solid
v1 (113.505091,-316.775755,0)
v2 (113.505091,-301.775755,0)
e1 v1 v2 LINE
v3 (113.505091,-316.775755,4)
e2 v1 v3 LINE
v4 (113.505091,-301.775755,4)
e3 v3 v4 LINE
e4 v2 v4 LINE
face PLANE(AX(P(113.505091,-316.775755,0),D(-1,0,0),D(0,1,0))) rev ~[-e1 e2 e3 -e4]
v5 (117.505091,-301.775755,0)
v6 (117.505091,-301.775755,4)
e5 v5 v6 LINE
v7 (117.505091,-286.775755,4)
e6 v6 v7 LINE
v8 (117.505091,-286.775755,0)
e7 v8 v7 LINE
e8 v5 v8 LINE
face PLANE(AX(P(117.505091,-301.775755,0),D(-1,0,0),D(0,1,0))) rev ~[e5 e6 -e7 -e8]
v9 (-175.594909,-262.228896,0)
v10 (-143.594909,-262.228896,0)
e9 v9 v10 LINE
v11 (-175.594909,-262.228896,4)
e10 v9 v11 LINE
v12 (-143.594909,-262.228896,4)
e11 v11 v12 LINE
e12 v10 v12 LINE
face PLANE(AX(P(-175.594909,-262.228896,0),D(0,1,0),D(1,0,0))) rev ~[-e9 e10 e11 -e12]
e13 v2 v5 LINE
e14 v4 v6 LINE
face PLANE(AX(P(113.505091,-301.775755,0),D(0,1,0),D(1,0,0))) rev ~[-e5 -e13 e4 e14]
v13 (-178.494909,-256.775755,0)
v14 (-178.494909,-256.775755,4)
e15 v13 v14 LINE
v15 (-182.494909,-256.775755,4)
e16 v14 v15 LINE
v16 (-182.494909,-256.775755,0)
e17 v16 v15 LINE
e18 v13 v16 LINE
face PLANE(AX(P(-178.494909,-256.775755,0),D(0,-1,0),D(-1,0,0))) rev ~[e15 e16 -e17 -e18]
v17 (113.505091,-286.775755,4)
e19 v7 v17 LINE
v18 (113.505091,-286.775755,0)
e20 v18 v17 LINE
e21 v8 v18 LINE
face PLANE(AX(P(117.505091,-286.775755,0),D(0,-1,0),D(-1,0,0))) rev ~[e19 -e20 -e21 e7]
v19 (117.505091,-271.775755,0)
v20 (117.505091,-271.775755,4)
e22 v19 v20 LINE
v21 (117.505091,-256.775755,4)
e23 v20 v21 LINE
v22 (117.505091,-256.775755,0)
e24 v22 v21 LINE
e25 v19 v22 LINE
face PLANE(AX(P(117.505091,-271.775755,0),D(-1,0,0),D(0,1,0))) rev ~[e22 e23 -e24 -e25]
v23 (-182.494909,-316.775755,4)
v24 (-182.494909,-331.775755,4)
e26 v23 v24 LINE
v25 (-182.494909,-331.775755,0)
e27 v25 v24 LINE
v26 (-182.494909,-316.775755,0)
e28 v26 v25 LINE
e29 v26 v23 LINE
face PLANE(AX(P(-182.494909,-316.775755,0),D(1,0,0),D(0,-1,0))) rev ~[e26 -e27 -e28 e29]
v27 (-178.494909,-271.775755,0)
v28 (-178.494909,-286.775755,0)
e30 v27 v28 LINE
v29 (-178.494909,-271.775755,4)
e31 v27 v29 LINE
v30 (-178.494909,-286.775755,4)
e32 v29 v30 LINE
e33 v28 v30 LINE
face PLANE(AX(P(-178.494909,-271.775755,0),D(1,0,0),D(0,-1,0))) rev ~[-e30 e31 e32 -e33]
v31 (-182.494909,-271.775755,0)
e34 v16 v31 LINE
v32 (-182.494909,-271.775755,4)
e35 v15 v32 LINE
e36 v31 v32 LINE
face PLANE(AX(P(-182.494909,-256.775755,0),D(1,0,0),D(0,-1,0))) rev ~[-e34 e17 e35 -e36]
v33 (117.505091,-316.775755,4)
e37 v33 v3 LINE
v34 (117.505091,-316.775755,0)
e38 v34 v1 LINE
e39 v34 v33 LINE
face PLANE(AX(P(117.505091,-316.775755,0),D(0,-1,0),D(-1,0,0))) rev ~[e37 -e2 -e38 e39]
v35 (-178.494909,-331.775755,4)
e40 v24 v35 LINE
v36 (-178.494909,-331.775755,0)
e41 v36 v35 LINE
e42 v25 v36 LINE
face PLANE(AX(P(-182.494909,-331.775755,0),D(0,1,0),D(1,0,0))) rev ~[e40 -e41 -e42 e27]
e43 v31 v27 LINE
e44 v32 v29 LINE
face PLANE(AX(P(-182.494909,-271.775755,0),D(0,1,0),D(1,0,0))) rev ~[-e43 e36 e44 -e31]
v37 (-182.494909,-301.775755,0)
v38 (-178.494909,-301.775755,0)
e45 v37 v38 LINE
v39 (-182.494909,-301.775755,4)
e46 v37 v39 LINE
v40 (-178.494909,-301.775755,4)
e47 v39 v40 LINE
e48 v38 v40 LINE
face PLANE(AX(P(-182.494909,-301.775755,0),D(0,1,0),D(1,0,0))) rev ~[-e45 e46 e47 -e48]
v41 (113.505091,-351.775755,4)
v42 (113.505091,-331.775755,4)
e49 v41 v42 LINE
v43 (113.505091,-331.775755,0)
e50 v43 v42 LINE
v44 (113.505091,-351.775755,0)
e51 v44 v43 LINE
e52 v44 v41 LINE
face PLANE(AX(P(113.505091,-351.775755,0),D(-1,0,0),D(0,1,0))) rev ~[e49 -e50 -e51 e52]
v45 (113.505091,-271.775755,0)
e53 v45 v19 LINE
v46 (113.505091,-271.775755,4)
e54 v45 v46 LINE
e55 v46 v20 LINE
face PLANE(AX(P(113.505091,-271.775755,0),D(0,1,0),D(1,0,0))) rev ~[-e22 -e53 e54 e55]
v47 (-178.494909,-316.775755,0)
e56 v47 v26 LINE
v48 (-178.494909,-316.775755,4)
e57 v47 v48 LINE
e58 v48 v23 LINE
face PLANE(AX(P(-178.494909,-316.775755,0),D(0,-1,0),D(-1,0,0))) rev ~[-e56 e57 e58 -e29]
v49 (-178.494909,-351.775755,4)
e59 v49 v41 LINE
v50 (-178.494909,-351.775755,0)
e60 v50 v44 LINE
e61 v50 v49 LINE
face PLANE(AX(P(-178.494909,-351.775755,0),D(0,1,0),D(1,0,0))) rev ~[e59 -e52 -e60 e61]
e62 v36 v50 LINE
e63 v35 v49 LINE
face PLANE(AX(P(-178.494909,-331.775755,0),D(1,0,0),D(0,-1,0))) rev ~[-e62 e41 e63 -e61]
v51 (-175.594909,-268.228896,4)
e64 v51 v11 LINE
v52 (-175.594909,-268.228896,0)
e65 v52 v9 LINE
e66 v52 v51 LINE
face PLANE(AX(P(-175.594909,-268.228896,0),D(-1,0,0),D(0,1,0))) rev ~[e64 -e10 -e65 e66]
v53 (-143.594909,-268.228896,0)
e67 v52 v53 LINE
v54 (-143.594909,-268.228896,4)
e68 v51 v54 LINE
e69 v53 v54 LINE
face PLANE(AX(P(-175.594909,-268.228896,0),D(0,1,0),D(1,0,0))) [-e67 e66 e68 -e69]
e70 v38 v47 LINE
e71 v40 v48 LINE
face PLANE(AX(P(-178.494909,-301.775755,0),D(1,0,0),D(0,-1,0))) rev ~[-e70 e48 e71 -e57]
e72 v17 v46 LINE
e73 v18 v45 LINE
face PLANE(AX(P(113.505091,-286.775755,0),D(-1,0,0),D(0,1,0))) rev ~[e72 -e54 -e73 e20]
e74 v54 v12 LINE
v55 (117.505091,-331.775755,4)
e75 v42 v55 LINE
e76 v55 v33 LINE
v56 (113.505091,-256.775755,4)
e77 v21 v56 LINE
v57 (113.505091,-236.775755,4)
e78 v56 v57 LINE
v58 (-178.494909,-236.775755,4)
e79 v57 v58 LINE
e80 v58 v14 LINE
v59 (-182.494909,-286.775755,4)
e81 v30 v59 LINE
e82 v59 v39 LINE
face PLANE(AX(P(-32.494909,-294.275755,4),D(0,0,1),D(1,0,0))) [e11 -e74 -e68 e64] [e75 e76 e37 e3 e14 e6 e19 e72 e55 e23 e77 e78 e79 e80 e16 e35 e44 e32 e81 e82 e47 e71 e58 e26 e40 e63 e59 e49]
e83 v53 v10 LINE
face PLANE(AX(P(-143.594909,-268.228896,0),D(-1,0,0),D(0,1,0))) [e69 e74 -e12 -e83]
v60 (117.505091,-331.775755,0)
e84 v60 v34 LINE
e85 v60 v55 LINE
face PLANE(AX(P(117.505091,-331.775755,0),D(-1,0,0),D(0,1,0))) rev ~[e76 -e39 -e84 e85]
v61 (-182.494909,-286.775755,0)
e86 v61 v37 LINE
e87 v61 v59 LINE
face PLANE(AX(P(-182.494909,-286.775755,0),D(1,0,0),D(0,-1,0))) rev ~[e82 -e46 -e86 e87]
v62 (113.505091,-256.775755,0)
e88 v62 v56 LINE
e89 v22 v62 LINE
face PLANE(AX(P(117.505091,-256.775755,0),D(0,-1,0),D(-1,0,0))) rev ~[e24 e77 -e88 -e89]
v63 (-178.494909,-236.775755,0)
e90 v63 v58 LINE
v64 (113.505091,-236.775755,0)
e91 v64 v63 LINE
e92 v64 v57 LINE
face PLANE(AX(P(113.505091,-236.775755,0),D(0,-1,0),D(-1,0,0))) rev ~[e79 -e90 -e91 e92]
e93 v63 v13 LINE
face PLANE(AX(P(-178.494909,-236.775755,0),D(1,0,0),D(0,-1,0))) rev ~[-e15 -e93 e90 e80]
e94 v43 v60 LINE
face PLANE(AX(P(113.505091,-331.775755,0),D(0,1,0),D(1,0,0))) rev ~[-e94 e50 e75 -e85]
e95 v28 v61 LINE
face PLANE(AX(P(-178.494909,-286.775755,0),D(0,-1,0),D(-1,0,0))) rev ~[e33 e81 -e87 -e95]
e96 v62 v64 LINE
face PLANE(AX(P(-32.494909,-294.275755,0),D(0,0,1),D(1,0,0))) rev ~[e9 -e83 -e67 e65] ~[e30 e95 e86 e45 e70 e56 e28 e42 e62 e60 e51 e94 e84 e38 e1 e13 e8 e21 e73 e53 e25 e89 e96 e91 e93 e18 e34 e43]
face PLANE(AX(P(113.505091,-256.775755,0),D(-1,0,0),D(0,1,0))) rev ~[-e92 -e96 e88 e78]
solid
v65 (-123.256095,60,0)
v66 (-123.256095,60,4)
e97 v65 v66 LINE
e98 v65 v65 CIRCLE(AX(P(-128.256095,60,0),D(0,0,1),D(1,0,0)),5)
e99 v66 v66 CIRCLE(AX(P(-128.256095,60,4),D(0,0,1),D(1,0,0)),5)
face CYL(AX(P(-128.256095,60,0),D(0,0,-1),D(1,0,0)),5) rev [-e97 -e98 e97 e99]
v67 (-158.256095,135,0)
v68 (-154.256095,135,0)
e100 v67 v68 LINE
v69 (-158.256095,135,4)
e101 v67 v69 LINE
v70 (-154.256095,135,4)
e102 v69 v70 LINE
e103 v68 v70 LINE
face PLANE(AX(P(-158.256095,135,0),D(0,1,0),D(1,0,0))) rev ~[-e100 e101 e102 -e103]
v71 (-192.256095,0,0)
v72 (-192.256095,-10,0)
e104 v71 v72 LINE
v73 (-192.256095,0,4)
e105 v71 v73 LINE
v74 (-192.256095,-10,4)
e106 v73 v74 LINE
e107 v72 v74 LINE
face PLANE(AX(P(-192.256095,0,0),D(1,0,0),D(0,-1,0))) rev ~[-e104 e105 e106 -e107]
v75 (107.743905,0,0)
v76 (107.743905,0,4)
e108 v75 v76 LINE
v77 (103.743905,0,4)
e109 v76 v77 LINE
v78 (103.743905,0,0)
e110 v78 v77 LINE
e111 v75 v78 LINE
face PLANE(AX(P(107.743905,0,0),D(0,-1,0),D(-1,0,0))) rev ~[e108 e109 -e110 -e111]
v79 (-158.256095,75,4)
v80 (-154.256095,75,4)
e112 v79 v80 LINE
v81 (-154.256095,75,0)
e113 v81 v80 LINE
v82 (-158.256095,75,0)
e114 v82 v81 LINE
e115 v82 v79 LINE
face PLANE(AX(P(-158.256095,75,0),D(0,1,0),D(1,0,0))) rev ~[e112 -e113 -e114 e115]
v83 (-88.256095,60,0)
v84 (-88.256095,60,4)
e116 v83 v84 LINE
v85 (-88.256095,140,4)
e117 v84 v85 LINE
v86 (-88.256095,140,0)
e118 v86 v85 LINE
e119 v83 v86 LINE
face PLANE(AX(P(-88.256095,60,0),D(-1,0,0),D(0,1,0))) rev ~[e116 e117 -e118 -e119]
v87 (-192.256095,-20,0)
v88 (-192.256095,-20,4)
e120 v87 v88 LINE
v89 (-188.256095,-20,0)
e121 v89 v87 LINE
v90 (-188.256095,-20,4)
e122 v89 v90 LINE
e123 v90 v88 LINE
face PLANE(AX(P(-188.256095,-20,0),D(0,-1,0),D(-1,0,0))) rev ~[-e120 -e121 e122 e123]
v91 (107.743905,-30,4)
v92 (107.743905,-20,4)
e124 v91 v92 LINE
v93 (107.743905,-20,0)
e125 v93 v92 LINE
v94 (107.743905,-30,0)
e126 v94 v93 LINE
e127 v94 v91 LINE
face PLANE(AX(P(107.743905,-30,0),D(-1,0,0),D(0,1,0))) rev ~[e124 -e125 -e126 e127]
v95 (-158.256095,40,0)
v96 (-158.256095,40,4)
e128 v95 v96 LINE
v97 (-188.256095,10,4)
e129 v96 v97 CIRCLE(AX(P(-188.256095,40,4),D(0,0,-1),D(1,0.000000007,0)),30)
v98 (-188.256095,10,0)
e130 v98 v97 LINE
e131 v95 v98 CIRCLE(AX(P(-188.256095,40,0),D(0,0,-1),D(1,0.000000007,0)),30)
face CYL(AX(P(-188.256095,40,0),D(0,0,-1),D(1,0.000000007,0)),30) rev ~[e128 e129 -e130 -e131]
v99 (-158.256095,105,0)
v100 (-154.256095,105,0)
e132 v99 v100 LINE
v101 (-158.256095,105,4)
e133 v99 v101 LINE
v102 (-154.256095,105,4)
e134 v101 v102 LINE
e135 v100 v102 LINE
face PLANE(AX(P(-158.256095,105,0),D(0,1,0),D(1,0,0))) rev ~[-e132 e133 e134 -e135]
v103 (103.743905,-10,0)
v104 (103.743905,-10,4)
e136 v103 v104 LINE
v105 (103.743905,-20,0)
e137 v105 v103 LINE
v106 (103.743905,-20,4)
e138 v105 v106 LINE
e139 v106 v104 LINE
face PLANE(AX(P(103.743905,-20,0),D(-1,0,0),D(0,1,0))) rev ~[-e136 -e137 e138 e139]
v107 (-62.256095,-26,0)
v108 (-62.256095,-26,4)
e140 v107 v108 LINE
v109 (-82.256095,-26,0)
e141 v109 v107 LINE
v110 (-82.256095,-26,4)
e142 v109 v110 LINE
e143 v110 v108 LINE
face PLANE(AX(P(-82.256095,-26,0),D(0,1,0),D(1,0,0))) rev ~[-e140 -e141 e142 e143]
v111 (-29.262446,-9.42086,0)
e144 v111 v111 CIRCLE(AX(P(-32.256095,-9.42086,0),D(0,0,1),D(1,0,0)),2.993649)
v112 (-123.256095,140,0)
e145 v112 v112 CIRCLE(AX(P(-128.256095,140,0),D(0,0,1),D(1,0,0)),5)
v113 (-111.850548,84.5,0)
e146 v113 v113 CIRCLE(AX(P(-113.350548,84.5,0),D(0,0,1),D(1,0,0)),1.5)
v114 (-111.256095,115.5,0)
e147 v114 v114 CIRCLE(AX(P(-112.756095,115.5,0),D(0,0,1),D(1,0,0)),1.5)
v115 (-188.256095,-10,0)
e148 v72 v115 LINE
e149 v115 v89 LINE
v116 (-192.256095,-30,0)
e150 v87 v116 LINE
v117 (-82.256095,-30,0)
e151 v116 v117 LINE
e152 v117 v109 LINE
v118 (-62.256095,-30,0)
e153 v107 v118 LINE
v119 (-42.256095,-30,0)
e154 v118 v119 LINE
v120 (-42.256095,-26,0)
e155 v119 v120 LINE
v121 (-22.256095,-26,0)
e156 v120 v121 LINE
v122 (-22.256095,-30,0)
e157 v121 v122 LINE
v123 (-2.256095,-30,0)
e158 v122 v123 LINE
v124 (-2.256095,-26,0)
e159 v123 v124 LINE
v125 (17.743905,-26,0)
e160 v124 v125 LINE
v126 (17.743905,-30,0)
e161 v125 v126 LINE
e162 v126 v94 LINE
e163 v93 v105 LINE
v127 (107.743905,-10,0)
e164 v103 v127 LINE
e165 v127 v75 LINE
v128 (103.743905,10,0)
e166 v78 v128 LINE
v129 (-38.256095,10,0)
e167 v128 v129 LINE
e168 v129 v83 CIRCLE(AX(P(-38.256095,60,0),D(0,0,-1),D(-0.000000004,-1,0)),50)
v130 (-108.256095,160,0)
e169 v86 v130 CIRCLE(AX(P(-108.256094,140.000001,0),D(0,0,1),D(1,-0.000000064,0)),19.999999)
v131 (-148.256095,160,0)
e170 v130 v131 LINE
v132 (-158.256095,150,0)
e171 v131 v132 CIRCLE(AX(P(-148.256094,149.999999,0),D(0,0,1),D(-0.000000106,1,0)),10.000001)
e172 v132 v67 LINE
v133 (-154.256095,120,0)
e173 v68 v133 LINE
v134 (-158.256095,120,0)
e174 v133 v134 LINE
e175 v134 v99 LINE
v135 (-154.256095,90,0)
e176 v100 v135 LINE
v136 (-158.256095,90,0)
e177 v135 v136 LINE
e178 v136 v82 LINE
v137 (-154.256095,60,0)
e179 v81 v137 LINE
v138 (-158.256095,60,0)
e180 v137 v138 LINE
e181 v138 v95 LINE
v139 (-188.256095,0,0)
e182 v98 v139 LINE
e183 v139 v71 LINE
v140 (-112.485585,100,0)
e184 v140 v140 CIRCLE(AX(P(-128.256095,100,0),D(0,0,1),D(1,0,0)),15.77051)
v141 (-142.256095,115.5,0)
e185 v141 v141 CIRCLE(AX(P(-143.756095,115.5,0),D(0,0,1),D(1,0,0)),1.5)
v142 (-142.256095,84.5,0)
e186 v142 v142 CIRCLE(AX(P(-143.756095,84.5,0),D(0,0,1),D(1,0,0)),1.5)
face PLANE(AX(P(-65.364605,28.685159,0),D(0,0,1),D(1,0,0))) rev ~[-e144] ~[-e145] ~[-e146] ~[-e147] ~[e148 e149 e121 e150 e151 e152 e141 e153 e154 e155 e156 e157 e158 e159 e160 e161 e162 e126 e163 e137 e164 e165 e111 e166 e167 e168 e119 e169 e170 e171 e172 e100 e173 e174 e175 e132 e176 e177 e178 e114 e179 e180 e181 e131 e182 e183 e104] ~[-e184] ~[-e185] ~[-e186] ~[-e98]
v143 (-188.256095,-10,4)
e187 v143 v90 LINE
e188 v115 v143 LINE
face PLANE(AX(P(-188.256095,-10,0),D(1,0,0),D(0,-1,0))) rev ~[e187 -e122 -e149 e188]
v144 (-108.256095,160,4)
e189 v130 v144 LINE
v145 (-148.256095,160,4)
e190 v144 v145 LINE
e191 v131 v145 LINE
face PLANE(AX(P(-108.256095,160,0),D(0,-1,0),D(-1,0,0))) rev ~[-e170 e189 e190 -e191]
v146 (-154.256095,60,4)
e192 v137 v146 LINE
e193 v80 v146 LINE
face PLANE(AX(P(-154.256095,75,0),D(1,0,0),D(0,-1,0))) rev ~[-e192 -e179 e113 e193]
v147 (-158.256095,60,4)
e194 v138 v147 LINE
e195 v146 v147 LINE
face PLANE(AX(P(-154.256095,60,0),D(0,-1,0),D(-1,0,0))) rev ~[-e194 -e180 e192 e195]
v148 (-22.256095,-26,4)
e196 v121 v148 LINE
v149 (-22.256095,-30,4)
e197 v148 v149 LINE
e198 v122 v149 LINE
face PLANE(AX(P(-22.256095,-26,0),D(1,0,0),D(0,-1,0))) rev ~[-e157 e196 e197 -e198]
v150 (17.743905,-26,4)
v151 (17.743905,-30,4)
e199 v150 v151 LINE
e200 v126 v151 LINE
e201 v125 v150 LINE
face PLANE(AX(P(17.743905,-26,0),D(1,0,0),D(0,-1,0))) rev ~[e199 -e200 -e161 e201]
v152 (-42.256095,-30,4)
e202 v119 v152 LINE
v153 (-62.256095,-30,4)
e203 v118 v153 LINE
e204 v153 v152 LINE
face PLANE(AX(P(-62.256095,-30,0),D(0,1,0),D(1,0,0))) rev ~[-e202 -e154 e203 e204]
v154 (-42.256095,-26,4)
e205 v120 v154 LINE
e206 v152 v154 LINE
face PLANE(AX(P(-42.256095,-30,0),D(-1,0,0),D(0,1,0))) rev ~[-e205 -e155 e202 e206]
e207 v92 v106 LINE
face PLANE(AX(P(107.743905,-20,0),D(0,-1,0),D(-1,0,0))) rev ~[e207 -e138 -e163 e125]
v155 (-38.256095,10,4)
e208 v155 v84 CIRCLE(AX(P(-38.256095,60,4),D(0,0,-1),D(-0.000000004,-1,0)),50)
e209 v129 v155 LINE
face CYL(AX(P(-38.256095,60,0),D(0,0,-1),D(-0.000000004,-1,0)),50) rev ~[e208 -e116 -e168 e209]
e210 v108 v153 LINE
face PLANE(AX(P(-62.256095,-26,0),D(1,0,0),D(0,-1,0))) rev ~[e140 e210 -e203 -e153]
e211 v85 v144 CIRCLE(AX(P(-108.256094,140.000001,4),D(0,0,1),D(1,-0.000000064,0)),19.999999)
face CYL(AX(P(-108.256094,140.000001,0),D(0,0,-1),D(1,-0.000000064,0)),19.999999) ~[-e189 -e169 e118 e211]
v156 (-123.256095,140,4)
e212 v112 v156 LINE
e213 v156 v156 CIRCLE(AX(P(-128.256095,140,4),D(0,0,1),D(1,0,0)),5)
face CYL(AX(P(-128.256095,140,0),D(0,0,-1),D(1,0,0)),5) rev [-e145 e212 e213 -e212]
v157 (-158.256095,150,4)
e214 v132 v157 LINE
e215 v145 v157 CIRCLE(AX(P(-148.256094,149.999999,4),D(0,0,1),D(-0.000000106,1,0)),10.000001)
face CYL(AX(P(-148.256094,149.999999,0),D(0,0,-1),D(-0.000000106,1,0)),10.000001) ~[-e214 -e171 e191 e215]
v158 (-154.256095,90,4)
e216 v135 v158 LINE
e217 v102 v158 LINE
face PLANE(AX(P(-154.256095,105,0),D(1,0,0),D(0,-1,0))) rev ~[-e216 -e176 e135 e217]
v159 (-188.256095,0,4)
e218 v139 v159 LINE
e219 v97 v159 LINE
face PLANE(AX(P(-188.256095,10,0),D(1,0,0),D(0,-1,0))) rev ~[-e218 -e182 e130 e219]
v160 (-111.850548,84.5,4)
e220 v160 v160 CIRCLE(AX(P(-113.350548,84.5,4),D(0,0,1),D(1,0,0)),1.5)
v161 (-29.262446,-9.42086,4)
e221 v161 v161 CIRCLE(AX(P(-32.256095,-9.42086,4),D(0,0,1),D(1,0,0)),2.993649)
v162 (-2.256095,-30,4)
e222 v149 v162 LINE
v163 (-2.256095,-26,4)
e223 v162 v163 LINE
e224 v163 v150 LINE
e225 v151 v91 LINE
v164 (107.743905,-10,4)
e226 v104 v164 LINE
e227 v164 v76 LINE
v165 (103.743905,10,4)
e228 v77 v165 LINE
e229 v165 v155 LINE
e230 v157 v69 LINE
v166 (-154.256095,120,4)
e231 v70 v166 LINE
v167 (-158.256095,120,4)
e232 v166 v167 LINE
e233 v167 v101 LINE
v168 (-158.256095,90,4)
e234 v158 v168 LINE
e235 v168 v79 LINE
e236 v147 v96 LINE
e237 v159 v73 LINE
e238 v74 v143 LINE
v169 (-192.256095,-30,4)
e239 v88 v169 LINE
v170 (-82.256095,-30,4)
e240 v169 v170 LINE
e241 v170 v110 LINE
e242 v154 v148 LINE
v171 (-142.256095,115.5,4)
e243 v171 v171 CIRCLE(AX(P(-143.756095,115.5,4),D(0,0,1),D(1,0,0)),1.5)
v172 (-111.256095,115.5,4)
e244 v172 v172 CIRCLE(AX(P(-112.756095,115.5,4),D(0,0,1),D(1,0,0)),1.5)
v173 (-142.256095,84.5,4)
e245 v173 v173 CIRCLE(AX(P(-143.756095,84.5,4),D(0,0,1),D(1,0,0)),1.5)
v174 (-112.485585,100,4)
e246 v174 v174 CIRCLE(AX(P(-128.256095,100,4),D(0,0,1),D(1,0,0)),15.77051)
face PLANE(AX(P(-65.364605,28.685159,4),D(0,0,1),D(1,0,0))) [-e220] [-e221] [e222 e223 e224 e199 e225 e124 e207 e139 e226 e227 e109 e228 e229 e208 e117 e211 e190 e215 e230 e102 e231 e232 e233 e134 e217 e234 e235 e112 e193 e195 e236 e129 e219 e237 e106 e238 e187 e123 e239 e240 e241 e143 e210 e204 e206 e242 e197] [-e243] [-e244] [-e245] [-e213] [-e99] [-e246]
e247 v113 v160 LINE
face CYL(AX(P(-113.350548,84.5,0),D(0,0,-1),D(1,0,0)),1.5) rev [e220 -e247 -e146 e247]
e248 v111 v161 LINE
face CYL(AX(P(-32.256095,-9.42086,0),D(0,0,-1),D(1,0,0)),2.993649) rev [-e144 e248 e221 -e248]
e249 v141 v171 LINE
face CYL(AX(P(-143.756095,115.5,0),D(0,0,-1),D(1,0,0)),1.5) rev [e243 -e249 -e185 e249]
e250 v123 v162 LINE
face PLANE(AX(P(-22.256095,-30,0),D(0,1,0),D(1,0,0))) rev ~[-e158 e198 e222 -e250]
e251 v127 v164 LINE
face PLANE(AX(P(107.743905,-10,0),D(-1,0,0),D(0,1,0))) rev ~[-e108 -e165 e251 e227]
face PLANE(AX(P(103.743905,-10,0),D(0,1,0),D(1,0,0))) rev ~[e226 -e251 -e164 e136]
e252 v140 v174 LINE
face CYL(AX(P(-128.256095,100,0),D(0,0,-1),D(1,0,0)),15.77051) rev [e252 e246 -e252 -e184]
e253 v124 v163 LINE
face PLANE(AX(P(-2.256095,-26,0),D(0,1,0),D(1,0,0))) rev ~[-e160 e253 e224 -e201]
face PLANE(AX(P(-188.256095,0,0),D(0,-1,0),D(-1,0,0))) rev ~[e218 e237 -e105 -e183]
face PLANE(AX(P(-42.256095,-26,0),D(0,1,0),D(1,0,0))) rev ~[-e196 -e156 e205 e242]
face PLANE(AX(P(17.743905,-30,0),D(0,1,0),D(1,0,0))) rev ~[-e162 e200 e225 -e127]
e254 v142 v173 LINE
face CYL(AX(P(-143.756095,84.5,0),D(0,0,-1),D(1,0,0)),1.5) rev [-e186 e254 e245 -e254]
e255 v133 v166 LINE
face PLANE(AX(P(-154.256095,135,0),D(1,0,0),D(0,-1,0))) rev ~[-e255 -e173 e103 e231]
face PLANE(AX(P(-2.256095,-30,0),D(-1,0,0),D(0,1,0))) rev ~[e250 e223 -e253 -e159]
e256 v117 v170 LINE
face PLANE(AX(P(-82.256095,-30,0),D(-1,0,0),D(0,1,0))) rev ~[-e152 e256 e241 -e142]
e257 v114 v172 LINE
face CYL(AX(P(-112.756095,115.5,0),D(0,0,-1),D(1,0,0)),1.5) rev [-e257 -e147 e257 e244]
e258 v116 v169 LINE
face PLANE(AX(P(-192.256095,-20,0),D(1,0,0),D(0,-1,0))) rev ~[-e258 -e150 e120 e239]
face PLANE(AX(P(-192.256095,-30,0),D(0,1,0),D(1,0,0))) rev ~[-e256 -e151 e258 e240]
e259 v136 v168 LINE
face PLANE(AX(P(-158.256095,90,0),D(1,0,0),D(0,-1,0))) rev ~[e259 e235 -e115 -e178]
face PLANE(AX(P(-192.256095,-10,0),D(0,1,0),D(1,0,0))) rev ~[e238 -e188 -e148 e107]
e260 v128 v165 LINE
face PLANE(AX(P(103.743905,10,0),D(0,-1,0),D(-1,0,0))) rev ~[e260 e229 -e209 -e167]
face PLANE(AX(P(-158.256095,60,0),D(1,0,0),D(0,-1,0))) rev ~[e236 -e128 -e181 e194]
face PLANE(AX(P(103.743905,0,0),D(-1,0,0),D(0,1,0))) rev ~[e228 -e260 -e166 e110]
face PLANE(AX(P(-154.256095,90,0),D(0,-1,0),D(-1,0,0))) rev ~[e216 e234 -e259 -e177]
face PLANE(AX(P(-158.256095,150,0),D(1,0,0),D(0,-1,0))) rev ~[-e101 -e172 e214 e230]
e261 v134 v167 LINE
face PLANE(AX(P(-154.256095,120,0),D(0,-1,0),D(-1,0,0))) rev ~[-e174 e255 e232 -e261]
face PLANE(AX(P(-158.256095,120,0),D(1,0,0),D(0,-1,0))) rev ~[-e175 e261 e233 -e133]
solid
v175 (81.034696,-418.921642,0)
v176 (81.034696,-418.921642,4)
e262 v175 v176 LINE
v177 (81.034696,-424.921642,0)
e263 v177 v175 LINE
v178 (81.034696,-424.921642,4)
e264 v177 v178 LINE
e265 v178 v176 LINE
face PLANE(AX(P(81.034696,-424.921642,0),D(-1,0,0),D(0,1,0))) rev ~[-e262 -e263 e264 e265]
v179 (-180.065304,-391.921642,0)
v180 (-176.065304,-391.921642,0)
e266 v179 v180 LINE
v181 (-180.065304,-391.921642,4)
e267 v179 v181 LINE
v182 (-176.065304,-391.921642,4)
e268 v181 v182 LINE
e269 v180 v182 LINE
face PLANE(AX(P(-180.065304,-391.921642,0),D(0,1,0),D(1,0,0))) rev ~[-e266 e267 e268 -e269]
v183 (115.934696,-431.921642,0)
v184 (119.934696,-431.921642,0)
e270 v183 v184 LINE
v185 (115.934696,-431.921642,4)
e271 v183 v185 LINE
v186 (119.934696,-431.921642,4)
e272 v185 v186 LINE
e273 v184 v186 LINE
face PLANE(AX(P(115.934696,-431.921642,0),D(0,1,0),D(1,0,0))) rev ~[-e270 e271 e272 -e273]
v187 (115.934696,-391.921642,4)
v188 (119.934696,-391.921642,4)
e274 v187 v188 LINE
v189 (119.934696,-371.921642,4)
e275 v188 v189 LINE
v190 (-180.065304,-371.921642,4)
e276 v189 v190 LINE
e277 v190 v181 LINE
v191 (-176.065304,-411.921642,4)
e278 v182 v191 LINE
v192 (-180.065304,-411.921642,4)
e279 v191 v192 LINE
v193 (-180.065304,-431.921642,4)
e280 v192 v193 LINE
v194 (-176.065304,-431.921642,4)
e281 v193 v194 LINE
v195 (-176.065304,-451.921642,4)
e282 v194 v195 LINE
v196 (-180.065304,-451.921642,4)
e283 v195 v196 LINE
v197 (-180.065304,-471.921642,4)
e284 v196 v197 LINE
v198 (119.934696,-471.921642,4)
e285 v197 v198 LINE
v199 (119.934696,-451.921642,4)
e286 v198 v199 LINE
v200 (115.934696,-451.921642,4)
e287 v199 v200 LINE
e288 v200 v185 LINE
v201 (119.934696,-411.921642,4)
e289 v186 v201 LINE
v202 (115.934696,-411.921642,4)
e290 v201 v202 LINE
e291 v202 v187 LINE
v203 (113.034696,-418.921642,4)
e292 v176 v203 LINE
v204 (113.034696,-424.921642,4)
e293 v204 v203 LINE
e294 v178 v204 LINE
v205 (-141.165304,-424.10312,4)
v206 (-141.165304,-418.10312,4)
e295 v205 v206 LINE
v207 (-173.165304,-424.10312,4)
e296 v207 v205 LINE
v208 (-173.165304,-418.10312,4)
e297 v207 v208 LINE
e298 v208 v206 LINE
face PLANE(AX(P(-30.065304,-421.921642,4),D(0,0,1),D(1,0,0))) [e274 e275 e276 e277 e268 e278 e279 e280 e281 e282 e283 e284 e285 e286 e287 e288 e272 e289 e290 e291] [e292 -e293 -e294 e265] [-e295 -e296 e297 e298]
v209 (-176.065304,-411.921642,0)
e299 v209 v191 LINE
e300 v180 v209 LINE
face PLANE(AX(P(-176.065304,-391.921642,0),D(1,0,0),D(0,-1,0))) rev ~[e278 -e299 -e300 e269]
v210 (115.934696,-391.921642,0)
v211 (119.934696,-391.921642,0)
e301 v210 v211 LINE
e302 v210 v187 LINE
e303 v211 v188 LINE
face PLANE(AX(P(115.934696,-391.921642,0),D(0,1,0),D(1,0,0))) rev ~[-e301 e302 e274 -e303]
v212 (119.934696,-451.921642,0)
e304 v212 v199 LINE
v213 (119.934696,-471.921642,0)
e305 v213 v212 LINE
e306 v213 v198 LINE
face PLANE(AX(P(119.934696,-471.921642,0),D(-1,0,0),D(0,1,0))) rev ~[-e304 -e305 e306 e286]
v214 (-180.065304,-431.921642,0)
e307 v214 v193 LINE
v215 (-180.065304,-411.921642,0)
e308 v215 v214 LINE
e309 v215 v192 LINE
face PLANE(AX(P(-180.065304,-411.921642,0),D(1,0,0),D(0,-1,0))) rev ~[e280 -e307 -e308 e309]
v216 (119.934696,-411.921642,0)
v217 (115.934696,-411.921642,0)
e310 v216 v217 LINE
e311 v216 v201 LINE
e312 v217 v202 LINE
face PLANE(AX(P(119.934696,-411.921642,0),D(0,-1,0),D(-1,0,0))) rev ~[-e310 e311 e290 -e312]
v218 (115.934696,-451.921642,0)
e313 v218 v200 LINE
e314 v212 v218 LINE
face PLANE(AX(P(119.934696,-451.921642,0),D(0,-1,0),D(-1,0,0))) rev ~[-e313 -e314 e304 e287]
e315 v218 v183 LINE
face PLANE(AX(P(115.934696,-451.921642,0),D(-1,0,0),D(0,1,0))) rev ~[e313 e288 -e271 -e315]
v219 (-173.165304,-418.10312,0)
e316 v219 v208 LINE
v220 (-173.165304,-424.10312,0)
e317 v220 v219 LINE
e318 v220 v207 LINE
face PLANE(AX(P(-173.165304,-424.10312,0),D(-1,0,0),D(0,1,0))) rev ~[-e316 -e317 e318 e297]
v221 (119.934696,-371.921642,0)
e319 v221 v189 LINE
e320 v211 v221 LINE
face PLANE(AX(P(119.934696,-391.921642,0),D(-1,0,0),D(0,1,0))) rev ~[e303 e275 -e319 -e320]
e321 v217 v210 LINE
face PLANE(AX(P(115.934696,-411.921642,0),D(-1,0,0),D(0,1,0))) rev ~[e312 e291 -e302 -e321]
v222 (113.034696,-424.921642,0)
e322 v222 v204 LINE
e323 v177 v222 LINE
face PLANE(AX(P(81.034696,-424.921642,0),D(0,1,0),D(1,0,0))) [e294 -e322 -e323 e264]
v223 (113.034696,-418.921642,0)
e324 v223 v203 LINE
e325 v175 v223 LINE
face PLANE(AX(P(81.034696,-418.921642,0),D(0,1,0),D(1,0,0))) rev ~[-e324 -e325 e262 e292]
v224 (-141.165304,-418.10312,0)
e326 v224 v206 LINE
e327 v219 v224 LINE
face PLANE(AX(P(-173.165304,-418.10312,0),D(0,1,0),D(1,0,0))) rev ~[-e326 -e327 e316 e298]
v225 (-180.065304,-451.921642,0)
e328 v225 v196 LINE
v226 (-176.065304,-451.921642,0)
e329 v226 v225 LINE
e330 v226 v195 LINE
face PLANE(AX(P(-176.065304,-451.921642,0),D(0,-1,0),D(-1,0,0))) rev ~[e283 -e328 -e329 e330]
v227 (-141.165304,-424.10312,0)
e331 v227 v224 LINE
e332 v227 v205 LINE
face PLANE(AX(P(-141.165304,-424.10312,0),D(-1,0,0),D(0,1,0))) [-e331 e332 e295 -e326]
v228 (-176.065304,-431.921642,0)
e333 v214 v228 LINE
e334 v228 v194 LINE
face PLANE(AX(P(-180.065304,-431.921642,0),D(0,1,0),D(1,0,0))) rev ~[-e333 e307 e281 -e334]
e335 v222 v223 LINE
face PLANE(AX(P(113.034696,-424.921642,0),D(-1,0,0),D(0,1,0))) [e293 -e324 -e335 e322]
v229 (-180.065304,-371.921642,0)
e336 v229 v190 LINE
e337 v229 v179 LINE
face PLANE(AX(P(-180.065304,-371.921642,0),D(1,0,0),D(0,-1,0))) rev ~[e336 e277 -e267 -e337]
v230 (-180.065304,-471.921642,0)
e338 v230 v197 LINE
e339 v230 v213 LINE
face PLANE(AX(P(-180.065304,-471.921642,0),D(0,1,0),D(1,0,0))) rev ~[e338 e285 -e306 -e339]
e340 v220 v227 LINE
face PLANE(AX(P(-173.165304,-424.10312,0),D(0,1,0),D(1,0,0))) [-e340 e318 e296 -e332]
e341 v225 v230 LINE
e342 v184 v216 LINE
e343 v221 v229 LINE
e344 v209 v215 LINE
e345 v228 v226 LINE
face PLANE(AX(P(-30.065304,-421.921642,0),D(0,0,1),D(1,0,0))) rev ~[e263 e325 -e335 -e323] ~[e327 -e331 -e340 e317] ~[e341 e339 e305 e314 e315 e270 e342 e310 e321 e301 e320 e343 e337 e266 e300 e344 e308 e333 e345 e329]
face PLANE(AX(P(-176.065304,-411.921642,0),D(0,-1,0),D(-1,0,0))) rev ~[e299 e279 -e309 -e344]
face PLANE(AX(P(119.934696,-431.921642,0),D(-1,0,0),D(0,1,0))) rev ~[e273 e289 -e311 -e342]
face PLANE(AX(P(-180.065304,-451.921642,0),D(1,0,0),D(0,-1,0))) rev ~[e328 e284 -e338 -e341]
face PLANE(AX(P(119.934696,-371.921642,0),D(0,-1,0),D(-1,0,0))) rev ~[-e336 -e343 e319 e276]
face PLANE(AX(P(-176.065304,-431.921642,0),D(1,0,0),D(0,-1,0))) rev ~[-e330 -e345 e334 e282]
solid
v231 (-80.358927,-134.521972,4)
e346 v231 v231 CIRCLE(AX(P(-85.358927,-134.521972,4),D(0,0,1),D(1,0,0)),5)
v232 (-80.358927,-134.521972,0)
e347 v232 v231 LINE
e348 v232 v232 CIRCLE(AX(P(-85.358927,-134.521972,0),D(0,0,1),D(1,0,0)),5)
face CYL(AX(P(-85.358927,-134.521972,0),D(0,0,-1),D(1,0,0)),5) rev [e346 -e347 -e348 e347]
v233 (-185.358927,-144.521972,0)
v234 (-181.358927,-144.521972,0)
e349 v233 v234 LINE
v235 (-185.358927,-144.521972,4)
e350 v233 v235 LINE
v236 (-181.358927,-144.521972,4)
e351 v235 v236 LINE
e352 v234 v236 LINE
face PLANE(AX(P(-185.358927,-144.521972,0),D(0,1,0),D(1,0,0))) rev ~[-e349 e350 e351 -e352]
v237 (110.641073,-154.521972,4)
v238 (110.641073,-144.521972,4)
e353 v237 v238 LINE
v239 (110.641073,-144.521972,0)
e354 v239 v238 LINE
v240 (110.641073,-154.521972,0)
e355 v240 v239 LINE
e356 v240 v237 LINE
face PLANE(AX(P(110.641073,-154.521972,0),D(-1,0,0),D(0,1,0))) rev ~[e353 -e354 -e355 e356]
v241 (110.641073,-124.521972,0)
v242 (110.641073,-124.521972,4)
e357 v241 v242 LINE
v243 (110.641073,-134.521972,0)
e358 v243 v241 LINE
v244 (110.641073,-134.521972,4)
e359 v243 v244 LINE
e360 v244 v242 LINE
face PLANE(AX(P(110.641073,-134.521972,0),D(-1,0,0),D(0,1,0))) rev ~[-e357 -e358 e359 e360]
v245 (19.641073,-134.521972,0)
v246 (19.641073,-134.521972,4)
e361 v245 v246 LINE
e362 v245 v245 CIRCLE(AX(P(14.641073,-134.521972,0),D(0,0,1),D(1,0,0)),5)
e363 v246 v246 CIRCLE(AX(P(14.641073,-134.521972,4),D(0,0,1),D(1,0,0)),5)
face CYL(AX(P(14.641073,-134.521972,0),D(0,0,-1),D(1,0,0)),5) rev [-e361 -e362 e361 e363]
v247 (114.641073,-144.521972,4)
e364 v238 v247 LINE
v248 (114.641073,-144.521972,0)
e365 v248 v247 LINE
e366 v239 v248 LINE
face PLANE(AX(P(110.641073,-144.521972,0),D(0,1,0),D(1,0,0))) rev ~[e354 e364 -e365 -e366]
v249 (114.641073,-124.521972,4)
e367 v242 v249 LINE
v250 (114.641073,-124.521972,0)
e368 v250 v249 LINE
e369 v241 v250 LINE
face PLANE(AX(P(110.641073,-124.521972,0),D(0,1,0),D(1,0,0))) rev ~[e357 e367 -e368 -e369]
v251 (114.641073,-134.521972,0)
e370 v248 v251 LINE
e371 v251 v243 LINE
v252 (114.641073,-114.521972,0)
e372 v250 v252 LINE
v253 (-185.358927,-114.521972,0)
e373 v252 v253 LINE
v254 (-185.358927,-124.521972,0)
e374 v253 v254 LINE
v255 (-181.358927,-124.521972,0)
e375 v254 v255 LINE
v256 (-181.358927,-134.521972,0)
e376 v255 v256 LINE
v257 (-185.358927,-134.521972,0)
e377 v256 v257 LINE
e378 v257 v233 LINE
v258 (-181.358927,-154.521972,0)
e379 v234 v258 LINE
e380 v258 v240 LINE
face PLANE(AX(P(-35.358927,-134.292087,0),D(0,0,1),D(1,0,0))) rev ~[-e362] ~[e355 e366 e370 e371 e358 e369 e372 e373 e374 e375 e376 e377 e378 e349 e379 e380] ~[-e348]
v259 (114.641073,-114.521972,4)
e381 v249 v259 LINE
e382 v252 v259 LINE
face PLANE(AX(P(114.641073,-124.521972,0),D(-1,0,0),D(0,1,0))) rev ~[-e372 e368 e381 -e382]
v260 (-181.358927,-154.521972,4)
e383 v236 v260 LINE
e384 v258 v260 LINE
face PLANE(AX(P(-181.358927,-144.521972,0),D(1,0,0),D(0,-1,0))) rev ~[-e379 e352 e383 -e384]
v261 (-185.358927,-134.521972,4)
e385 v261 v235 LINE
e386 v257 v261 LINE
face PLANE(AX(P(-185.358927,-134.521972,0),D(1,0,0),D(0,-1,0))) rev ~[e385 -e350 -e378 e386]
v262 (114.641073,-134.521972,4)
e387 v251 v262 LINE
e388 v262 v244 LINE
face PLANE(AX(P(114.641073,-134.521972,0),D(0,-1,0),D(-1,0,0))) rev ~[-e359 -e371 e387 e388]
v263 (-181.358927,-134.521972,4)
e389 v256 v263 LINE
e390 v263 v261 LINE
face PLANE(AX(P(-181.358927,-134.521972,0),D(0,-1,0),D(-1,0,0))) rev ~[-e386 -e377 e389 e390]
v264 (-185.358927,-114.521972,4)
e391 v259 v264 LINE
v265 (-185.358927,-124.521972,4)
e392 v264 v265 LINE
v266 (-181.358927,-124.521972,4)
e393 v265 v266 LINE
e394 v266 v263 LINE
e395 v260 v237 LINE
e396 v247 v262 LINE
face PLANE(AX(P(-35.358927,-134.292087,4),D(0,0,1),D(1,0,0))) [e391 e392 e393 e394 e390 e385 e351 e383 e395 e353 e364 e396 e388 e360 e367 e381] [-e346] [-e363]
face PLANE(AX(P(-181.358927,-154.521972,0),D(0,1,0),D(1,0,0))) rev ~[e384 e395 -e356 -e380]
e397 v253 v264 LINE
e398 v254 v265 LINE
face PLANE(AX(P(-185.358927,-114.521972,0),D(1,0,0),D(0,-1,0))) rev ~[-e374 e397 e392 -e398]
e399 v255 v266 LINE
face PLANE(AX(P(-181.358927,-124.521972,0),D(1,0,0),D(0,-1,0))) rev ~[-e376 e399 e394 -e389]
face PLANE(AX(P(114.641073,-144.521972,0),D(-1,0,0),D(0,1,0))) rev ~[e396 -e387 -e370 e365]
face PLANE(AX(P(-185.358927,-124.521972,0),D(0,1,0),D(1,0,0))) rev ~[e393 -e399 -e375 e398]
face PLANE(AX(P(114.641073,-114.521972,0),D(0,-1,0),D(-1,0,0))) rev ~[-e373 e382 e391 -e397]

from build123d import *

# Parameters (mm, degrees)
F0_W     = 32
F0_H     = 6
F0_R     = 5
F0_R_2   = 1.5
F0_R_3   = 15.77051
F0_R_4   = 2.993649
F1_DEPTH = 4


with BuildPart() as f1:
    # F0 (on Top) → F1 (new body)
    with BuildSketch(Plane.XY):
        Polygon((119.934696, -371.921642), (-180.065304, -371.921642), (-180.065304, -391.921642), (-176.065304, -391.921642), (-176.065304, -411.921642), (-180.065304, -411.921642), (-180.065304, -431.921642), (-176.065304, -431.921642), (-176.065304, -451.921642), (-180.065304, -451.921642), (-180.065304, -471.921642), (119.934696, -471.921642), (119.934696, -451.921642), (115.934696, -451.921642), (115.934696, -431.921642), (119.934696, -431.921642), (119.934696, -411.921642), (115.934696, -411.921642), (115.934696, -391.921642), (119.934696, -391.921642), align=None)
        with Locations((-157.165304, -421.10312)):
            Rectangle(F0_W, F0_H, mode=Mode.SUBTRACT)
        with Locations((97.034696, -421.921642)):
            Rectangle(F0_W, F0_H, mode=Mode.SUBTRACT)
        Polygon((113.505091, -236.775755), (-178.494909, -236.775755), (-178.494909, -256.775755), (-182.494909, -256.775755), (-182.494909, -271.775755), (-178.494909, -271.775755), (-178.494909, -286.775755), (-182.494909, -286.775755), (-182.494909, -301.775755), (-178.494909, -301.775755), (-178.494909, -316.775755), (-182.494909, -316.775755), (-182.494909, -331.775755), (-178.494909, -331.775755), (-178.494909, -351.775755), (113.505091, -351.775755), (113.505091, -331.775755), (117.505091, -331.775755), (117.505091, -316.775755), (113.505091, -316.775755), (113.505091, -301.775755), (117.505091, -301.775755), (117.505091, -286.775755), (113.505091, -286.775755), (113.505091, -271.775755), (117.505091, -271.775755), (117.505091, -256.775755), (113.505091, -256.775755), align=None)
        with Locations((-159.594909, -265.228896)):
            Rectangle(F0_W, F0_H, mode=Mode.SUBTRACT)
        Polygon((-181.358927, -144.521972), (-181.358927, -154.521972), (110.641073, -154.521972), (110.641073, -144.521972), (114.641073, -144.521972), (114.641073, -134.521972), (110.641073, -134.521972), (110.641073, -124.521972), (114.641073, -124.521972), (114.641073, -114.521972), (-185.358927, -114.521972), (-185.358927, -124.521972), (-181.358927, -124.521972), (-181.358927, -134.521972), (-185.358927, -134.521972), (-185.358927, -144.521972), align=None)
        with Locations((-85.358927, -134.521972)):
            Circle(F0_R, mode=Mode.SUBTRACT)
        with Locations((14.641073, -134.521972)):
            Circle(F0_R, mode=Mode.SUBTRACT)
        with BuildLine():
            Line((-192.256095, -20), (-192.256095, -30))
            Line((-192.256095, -30), (-82.256095, -30))
            Line((-82.256095, -30), (-82.256095, -26))
            Line((-82.256095, -26), (-62.256095, -26))
            Line((-62.256095, -26), (-62.256095, -30))
            Line((-62.256095, -30), (-42.256095, -30))
            Line((-42.256095, -30), (-42.256095, -26))
            Line((-42.256095, -26), (-22.256095, -26))
            Line((-22.256095, -26), (-22.256095, -30))
            Line((-22.256095, -30), (-2.256095, -30))
            Line((-2.256095, -30), (-2.256095, -26))
            Line((-2.256095, -26), (17.743905, -26))
            Line((17.743905, -26), (17.743905, -30))
            Line((17.743905, -30), (107.743905, -30))
            Line((107.743905, -30), (107.743905, -20))
            Line((107.743905, -20), (103.743905, -20))
            Line((103.743905, -20), (103.743905, -10))
            Line((103.743905, -10), (107.743905, -10))
            Line((107.743905, -10), (107.743905, 0))
            Line((107.743905, 0), (103.743905, 0))
            Line((103.743905, 0), (103.743905, 10))
            Line((103.743905, 10), (-38.256095, 10))
            ThreePointArc((-38.256095, 10), (-73.611434, 24.644661), (-88.256095, 60))
            Line((-88.256095, 60), (-88.256095, 140))
            ThreePointArc((-88.256095, 140), (-94.113959, 154.142136), (-108.256095, 160))
            Line((-108.256095, 160), (-148.256095, 160))
            ThreePointArc((-148.256095, 160), (-155.327162, 157.071068), (-158.256095, 150))
            Line((-158.256095, 150), (-158.256095, 135))
            Line((-158.256095, 135), (-154.256095, 135))
            Line((-154.256095, 135), (-154.256095, 120))
            Line((-154.256095, 120), (-158.256095, 120))
            Line((-158.256095, 120), (-158.256095, 105))
            Line((-158.256095, 105), (-154.256095, 105))
            Line((-154.256095, 105), (-154.256095, 104.09586))
            Line((-154.256095, 104.09586), (-154.256095, 90))
            Line((-154.256095, 90), (-158.256095, 90))
            Line((-158.256095, 90), (-158.256095, 75))
            Line((-158.256095, 75), (-154.256095, 75))
            Line((-154.256095, 75), (-154.256095, 60))
            Line((-154.256095, 60), (-158.256095, 60))
            Line((-158.256095, 60), (-158.256095, 40))
            ThreePointArc((-158.256095, 40), (-167.042891, 18.786797), (-188.256095, 10))
            Line((-188.256095, 10), (-188.256095, 0))
            Line((-188.256095, 0), (-192.256095, 0))
            Line((-192.256095, 0), (-192.256095, -10))
            Line((-192.256095, -10), (-188.256095, -10))
            Line((-188.256095, -10), (-188.256095, -20))
            Line((-188.256095, -20), (-192.256095, -20))
        make_face()
        with Locations((-143.756095, 84.5)):
            Circle(F0_R_2, mode=Mode.SUBTRACT)
        with Locations((-128.256095, 60)):
            Circle(F0_R, mode=Mode.SUBTRACT)
        with Locations((-143.756095, 115.5)):
            Circle(F0_R_2, mode=Mode.SUBTRACT)
        with Locations((-128.256095, 100)):
            Circle(F0_R_3, mode=Mode.SUBTRACT)
        with Locations((-128.256095, 140)):
            Circle(F0_R, mode=Mode.SUBTRACT)
        with Locations((-113.350548, 84.5)):
            Circle(F0_R_2, mode=Mode.SUBTRACT)
        with Locations((-112.756095, 115.5)):
            Circle(F0_R_2, mode=Mode.SUBTRACT)
        with Locations((-32.256095, -9.42086)):
            Circle(F0_R_4, mode=Mode.SUBTRACT)
    extrude(amount=F1_DEPTH)


solid = f1.part
